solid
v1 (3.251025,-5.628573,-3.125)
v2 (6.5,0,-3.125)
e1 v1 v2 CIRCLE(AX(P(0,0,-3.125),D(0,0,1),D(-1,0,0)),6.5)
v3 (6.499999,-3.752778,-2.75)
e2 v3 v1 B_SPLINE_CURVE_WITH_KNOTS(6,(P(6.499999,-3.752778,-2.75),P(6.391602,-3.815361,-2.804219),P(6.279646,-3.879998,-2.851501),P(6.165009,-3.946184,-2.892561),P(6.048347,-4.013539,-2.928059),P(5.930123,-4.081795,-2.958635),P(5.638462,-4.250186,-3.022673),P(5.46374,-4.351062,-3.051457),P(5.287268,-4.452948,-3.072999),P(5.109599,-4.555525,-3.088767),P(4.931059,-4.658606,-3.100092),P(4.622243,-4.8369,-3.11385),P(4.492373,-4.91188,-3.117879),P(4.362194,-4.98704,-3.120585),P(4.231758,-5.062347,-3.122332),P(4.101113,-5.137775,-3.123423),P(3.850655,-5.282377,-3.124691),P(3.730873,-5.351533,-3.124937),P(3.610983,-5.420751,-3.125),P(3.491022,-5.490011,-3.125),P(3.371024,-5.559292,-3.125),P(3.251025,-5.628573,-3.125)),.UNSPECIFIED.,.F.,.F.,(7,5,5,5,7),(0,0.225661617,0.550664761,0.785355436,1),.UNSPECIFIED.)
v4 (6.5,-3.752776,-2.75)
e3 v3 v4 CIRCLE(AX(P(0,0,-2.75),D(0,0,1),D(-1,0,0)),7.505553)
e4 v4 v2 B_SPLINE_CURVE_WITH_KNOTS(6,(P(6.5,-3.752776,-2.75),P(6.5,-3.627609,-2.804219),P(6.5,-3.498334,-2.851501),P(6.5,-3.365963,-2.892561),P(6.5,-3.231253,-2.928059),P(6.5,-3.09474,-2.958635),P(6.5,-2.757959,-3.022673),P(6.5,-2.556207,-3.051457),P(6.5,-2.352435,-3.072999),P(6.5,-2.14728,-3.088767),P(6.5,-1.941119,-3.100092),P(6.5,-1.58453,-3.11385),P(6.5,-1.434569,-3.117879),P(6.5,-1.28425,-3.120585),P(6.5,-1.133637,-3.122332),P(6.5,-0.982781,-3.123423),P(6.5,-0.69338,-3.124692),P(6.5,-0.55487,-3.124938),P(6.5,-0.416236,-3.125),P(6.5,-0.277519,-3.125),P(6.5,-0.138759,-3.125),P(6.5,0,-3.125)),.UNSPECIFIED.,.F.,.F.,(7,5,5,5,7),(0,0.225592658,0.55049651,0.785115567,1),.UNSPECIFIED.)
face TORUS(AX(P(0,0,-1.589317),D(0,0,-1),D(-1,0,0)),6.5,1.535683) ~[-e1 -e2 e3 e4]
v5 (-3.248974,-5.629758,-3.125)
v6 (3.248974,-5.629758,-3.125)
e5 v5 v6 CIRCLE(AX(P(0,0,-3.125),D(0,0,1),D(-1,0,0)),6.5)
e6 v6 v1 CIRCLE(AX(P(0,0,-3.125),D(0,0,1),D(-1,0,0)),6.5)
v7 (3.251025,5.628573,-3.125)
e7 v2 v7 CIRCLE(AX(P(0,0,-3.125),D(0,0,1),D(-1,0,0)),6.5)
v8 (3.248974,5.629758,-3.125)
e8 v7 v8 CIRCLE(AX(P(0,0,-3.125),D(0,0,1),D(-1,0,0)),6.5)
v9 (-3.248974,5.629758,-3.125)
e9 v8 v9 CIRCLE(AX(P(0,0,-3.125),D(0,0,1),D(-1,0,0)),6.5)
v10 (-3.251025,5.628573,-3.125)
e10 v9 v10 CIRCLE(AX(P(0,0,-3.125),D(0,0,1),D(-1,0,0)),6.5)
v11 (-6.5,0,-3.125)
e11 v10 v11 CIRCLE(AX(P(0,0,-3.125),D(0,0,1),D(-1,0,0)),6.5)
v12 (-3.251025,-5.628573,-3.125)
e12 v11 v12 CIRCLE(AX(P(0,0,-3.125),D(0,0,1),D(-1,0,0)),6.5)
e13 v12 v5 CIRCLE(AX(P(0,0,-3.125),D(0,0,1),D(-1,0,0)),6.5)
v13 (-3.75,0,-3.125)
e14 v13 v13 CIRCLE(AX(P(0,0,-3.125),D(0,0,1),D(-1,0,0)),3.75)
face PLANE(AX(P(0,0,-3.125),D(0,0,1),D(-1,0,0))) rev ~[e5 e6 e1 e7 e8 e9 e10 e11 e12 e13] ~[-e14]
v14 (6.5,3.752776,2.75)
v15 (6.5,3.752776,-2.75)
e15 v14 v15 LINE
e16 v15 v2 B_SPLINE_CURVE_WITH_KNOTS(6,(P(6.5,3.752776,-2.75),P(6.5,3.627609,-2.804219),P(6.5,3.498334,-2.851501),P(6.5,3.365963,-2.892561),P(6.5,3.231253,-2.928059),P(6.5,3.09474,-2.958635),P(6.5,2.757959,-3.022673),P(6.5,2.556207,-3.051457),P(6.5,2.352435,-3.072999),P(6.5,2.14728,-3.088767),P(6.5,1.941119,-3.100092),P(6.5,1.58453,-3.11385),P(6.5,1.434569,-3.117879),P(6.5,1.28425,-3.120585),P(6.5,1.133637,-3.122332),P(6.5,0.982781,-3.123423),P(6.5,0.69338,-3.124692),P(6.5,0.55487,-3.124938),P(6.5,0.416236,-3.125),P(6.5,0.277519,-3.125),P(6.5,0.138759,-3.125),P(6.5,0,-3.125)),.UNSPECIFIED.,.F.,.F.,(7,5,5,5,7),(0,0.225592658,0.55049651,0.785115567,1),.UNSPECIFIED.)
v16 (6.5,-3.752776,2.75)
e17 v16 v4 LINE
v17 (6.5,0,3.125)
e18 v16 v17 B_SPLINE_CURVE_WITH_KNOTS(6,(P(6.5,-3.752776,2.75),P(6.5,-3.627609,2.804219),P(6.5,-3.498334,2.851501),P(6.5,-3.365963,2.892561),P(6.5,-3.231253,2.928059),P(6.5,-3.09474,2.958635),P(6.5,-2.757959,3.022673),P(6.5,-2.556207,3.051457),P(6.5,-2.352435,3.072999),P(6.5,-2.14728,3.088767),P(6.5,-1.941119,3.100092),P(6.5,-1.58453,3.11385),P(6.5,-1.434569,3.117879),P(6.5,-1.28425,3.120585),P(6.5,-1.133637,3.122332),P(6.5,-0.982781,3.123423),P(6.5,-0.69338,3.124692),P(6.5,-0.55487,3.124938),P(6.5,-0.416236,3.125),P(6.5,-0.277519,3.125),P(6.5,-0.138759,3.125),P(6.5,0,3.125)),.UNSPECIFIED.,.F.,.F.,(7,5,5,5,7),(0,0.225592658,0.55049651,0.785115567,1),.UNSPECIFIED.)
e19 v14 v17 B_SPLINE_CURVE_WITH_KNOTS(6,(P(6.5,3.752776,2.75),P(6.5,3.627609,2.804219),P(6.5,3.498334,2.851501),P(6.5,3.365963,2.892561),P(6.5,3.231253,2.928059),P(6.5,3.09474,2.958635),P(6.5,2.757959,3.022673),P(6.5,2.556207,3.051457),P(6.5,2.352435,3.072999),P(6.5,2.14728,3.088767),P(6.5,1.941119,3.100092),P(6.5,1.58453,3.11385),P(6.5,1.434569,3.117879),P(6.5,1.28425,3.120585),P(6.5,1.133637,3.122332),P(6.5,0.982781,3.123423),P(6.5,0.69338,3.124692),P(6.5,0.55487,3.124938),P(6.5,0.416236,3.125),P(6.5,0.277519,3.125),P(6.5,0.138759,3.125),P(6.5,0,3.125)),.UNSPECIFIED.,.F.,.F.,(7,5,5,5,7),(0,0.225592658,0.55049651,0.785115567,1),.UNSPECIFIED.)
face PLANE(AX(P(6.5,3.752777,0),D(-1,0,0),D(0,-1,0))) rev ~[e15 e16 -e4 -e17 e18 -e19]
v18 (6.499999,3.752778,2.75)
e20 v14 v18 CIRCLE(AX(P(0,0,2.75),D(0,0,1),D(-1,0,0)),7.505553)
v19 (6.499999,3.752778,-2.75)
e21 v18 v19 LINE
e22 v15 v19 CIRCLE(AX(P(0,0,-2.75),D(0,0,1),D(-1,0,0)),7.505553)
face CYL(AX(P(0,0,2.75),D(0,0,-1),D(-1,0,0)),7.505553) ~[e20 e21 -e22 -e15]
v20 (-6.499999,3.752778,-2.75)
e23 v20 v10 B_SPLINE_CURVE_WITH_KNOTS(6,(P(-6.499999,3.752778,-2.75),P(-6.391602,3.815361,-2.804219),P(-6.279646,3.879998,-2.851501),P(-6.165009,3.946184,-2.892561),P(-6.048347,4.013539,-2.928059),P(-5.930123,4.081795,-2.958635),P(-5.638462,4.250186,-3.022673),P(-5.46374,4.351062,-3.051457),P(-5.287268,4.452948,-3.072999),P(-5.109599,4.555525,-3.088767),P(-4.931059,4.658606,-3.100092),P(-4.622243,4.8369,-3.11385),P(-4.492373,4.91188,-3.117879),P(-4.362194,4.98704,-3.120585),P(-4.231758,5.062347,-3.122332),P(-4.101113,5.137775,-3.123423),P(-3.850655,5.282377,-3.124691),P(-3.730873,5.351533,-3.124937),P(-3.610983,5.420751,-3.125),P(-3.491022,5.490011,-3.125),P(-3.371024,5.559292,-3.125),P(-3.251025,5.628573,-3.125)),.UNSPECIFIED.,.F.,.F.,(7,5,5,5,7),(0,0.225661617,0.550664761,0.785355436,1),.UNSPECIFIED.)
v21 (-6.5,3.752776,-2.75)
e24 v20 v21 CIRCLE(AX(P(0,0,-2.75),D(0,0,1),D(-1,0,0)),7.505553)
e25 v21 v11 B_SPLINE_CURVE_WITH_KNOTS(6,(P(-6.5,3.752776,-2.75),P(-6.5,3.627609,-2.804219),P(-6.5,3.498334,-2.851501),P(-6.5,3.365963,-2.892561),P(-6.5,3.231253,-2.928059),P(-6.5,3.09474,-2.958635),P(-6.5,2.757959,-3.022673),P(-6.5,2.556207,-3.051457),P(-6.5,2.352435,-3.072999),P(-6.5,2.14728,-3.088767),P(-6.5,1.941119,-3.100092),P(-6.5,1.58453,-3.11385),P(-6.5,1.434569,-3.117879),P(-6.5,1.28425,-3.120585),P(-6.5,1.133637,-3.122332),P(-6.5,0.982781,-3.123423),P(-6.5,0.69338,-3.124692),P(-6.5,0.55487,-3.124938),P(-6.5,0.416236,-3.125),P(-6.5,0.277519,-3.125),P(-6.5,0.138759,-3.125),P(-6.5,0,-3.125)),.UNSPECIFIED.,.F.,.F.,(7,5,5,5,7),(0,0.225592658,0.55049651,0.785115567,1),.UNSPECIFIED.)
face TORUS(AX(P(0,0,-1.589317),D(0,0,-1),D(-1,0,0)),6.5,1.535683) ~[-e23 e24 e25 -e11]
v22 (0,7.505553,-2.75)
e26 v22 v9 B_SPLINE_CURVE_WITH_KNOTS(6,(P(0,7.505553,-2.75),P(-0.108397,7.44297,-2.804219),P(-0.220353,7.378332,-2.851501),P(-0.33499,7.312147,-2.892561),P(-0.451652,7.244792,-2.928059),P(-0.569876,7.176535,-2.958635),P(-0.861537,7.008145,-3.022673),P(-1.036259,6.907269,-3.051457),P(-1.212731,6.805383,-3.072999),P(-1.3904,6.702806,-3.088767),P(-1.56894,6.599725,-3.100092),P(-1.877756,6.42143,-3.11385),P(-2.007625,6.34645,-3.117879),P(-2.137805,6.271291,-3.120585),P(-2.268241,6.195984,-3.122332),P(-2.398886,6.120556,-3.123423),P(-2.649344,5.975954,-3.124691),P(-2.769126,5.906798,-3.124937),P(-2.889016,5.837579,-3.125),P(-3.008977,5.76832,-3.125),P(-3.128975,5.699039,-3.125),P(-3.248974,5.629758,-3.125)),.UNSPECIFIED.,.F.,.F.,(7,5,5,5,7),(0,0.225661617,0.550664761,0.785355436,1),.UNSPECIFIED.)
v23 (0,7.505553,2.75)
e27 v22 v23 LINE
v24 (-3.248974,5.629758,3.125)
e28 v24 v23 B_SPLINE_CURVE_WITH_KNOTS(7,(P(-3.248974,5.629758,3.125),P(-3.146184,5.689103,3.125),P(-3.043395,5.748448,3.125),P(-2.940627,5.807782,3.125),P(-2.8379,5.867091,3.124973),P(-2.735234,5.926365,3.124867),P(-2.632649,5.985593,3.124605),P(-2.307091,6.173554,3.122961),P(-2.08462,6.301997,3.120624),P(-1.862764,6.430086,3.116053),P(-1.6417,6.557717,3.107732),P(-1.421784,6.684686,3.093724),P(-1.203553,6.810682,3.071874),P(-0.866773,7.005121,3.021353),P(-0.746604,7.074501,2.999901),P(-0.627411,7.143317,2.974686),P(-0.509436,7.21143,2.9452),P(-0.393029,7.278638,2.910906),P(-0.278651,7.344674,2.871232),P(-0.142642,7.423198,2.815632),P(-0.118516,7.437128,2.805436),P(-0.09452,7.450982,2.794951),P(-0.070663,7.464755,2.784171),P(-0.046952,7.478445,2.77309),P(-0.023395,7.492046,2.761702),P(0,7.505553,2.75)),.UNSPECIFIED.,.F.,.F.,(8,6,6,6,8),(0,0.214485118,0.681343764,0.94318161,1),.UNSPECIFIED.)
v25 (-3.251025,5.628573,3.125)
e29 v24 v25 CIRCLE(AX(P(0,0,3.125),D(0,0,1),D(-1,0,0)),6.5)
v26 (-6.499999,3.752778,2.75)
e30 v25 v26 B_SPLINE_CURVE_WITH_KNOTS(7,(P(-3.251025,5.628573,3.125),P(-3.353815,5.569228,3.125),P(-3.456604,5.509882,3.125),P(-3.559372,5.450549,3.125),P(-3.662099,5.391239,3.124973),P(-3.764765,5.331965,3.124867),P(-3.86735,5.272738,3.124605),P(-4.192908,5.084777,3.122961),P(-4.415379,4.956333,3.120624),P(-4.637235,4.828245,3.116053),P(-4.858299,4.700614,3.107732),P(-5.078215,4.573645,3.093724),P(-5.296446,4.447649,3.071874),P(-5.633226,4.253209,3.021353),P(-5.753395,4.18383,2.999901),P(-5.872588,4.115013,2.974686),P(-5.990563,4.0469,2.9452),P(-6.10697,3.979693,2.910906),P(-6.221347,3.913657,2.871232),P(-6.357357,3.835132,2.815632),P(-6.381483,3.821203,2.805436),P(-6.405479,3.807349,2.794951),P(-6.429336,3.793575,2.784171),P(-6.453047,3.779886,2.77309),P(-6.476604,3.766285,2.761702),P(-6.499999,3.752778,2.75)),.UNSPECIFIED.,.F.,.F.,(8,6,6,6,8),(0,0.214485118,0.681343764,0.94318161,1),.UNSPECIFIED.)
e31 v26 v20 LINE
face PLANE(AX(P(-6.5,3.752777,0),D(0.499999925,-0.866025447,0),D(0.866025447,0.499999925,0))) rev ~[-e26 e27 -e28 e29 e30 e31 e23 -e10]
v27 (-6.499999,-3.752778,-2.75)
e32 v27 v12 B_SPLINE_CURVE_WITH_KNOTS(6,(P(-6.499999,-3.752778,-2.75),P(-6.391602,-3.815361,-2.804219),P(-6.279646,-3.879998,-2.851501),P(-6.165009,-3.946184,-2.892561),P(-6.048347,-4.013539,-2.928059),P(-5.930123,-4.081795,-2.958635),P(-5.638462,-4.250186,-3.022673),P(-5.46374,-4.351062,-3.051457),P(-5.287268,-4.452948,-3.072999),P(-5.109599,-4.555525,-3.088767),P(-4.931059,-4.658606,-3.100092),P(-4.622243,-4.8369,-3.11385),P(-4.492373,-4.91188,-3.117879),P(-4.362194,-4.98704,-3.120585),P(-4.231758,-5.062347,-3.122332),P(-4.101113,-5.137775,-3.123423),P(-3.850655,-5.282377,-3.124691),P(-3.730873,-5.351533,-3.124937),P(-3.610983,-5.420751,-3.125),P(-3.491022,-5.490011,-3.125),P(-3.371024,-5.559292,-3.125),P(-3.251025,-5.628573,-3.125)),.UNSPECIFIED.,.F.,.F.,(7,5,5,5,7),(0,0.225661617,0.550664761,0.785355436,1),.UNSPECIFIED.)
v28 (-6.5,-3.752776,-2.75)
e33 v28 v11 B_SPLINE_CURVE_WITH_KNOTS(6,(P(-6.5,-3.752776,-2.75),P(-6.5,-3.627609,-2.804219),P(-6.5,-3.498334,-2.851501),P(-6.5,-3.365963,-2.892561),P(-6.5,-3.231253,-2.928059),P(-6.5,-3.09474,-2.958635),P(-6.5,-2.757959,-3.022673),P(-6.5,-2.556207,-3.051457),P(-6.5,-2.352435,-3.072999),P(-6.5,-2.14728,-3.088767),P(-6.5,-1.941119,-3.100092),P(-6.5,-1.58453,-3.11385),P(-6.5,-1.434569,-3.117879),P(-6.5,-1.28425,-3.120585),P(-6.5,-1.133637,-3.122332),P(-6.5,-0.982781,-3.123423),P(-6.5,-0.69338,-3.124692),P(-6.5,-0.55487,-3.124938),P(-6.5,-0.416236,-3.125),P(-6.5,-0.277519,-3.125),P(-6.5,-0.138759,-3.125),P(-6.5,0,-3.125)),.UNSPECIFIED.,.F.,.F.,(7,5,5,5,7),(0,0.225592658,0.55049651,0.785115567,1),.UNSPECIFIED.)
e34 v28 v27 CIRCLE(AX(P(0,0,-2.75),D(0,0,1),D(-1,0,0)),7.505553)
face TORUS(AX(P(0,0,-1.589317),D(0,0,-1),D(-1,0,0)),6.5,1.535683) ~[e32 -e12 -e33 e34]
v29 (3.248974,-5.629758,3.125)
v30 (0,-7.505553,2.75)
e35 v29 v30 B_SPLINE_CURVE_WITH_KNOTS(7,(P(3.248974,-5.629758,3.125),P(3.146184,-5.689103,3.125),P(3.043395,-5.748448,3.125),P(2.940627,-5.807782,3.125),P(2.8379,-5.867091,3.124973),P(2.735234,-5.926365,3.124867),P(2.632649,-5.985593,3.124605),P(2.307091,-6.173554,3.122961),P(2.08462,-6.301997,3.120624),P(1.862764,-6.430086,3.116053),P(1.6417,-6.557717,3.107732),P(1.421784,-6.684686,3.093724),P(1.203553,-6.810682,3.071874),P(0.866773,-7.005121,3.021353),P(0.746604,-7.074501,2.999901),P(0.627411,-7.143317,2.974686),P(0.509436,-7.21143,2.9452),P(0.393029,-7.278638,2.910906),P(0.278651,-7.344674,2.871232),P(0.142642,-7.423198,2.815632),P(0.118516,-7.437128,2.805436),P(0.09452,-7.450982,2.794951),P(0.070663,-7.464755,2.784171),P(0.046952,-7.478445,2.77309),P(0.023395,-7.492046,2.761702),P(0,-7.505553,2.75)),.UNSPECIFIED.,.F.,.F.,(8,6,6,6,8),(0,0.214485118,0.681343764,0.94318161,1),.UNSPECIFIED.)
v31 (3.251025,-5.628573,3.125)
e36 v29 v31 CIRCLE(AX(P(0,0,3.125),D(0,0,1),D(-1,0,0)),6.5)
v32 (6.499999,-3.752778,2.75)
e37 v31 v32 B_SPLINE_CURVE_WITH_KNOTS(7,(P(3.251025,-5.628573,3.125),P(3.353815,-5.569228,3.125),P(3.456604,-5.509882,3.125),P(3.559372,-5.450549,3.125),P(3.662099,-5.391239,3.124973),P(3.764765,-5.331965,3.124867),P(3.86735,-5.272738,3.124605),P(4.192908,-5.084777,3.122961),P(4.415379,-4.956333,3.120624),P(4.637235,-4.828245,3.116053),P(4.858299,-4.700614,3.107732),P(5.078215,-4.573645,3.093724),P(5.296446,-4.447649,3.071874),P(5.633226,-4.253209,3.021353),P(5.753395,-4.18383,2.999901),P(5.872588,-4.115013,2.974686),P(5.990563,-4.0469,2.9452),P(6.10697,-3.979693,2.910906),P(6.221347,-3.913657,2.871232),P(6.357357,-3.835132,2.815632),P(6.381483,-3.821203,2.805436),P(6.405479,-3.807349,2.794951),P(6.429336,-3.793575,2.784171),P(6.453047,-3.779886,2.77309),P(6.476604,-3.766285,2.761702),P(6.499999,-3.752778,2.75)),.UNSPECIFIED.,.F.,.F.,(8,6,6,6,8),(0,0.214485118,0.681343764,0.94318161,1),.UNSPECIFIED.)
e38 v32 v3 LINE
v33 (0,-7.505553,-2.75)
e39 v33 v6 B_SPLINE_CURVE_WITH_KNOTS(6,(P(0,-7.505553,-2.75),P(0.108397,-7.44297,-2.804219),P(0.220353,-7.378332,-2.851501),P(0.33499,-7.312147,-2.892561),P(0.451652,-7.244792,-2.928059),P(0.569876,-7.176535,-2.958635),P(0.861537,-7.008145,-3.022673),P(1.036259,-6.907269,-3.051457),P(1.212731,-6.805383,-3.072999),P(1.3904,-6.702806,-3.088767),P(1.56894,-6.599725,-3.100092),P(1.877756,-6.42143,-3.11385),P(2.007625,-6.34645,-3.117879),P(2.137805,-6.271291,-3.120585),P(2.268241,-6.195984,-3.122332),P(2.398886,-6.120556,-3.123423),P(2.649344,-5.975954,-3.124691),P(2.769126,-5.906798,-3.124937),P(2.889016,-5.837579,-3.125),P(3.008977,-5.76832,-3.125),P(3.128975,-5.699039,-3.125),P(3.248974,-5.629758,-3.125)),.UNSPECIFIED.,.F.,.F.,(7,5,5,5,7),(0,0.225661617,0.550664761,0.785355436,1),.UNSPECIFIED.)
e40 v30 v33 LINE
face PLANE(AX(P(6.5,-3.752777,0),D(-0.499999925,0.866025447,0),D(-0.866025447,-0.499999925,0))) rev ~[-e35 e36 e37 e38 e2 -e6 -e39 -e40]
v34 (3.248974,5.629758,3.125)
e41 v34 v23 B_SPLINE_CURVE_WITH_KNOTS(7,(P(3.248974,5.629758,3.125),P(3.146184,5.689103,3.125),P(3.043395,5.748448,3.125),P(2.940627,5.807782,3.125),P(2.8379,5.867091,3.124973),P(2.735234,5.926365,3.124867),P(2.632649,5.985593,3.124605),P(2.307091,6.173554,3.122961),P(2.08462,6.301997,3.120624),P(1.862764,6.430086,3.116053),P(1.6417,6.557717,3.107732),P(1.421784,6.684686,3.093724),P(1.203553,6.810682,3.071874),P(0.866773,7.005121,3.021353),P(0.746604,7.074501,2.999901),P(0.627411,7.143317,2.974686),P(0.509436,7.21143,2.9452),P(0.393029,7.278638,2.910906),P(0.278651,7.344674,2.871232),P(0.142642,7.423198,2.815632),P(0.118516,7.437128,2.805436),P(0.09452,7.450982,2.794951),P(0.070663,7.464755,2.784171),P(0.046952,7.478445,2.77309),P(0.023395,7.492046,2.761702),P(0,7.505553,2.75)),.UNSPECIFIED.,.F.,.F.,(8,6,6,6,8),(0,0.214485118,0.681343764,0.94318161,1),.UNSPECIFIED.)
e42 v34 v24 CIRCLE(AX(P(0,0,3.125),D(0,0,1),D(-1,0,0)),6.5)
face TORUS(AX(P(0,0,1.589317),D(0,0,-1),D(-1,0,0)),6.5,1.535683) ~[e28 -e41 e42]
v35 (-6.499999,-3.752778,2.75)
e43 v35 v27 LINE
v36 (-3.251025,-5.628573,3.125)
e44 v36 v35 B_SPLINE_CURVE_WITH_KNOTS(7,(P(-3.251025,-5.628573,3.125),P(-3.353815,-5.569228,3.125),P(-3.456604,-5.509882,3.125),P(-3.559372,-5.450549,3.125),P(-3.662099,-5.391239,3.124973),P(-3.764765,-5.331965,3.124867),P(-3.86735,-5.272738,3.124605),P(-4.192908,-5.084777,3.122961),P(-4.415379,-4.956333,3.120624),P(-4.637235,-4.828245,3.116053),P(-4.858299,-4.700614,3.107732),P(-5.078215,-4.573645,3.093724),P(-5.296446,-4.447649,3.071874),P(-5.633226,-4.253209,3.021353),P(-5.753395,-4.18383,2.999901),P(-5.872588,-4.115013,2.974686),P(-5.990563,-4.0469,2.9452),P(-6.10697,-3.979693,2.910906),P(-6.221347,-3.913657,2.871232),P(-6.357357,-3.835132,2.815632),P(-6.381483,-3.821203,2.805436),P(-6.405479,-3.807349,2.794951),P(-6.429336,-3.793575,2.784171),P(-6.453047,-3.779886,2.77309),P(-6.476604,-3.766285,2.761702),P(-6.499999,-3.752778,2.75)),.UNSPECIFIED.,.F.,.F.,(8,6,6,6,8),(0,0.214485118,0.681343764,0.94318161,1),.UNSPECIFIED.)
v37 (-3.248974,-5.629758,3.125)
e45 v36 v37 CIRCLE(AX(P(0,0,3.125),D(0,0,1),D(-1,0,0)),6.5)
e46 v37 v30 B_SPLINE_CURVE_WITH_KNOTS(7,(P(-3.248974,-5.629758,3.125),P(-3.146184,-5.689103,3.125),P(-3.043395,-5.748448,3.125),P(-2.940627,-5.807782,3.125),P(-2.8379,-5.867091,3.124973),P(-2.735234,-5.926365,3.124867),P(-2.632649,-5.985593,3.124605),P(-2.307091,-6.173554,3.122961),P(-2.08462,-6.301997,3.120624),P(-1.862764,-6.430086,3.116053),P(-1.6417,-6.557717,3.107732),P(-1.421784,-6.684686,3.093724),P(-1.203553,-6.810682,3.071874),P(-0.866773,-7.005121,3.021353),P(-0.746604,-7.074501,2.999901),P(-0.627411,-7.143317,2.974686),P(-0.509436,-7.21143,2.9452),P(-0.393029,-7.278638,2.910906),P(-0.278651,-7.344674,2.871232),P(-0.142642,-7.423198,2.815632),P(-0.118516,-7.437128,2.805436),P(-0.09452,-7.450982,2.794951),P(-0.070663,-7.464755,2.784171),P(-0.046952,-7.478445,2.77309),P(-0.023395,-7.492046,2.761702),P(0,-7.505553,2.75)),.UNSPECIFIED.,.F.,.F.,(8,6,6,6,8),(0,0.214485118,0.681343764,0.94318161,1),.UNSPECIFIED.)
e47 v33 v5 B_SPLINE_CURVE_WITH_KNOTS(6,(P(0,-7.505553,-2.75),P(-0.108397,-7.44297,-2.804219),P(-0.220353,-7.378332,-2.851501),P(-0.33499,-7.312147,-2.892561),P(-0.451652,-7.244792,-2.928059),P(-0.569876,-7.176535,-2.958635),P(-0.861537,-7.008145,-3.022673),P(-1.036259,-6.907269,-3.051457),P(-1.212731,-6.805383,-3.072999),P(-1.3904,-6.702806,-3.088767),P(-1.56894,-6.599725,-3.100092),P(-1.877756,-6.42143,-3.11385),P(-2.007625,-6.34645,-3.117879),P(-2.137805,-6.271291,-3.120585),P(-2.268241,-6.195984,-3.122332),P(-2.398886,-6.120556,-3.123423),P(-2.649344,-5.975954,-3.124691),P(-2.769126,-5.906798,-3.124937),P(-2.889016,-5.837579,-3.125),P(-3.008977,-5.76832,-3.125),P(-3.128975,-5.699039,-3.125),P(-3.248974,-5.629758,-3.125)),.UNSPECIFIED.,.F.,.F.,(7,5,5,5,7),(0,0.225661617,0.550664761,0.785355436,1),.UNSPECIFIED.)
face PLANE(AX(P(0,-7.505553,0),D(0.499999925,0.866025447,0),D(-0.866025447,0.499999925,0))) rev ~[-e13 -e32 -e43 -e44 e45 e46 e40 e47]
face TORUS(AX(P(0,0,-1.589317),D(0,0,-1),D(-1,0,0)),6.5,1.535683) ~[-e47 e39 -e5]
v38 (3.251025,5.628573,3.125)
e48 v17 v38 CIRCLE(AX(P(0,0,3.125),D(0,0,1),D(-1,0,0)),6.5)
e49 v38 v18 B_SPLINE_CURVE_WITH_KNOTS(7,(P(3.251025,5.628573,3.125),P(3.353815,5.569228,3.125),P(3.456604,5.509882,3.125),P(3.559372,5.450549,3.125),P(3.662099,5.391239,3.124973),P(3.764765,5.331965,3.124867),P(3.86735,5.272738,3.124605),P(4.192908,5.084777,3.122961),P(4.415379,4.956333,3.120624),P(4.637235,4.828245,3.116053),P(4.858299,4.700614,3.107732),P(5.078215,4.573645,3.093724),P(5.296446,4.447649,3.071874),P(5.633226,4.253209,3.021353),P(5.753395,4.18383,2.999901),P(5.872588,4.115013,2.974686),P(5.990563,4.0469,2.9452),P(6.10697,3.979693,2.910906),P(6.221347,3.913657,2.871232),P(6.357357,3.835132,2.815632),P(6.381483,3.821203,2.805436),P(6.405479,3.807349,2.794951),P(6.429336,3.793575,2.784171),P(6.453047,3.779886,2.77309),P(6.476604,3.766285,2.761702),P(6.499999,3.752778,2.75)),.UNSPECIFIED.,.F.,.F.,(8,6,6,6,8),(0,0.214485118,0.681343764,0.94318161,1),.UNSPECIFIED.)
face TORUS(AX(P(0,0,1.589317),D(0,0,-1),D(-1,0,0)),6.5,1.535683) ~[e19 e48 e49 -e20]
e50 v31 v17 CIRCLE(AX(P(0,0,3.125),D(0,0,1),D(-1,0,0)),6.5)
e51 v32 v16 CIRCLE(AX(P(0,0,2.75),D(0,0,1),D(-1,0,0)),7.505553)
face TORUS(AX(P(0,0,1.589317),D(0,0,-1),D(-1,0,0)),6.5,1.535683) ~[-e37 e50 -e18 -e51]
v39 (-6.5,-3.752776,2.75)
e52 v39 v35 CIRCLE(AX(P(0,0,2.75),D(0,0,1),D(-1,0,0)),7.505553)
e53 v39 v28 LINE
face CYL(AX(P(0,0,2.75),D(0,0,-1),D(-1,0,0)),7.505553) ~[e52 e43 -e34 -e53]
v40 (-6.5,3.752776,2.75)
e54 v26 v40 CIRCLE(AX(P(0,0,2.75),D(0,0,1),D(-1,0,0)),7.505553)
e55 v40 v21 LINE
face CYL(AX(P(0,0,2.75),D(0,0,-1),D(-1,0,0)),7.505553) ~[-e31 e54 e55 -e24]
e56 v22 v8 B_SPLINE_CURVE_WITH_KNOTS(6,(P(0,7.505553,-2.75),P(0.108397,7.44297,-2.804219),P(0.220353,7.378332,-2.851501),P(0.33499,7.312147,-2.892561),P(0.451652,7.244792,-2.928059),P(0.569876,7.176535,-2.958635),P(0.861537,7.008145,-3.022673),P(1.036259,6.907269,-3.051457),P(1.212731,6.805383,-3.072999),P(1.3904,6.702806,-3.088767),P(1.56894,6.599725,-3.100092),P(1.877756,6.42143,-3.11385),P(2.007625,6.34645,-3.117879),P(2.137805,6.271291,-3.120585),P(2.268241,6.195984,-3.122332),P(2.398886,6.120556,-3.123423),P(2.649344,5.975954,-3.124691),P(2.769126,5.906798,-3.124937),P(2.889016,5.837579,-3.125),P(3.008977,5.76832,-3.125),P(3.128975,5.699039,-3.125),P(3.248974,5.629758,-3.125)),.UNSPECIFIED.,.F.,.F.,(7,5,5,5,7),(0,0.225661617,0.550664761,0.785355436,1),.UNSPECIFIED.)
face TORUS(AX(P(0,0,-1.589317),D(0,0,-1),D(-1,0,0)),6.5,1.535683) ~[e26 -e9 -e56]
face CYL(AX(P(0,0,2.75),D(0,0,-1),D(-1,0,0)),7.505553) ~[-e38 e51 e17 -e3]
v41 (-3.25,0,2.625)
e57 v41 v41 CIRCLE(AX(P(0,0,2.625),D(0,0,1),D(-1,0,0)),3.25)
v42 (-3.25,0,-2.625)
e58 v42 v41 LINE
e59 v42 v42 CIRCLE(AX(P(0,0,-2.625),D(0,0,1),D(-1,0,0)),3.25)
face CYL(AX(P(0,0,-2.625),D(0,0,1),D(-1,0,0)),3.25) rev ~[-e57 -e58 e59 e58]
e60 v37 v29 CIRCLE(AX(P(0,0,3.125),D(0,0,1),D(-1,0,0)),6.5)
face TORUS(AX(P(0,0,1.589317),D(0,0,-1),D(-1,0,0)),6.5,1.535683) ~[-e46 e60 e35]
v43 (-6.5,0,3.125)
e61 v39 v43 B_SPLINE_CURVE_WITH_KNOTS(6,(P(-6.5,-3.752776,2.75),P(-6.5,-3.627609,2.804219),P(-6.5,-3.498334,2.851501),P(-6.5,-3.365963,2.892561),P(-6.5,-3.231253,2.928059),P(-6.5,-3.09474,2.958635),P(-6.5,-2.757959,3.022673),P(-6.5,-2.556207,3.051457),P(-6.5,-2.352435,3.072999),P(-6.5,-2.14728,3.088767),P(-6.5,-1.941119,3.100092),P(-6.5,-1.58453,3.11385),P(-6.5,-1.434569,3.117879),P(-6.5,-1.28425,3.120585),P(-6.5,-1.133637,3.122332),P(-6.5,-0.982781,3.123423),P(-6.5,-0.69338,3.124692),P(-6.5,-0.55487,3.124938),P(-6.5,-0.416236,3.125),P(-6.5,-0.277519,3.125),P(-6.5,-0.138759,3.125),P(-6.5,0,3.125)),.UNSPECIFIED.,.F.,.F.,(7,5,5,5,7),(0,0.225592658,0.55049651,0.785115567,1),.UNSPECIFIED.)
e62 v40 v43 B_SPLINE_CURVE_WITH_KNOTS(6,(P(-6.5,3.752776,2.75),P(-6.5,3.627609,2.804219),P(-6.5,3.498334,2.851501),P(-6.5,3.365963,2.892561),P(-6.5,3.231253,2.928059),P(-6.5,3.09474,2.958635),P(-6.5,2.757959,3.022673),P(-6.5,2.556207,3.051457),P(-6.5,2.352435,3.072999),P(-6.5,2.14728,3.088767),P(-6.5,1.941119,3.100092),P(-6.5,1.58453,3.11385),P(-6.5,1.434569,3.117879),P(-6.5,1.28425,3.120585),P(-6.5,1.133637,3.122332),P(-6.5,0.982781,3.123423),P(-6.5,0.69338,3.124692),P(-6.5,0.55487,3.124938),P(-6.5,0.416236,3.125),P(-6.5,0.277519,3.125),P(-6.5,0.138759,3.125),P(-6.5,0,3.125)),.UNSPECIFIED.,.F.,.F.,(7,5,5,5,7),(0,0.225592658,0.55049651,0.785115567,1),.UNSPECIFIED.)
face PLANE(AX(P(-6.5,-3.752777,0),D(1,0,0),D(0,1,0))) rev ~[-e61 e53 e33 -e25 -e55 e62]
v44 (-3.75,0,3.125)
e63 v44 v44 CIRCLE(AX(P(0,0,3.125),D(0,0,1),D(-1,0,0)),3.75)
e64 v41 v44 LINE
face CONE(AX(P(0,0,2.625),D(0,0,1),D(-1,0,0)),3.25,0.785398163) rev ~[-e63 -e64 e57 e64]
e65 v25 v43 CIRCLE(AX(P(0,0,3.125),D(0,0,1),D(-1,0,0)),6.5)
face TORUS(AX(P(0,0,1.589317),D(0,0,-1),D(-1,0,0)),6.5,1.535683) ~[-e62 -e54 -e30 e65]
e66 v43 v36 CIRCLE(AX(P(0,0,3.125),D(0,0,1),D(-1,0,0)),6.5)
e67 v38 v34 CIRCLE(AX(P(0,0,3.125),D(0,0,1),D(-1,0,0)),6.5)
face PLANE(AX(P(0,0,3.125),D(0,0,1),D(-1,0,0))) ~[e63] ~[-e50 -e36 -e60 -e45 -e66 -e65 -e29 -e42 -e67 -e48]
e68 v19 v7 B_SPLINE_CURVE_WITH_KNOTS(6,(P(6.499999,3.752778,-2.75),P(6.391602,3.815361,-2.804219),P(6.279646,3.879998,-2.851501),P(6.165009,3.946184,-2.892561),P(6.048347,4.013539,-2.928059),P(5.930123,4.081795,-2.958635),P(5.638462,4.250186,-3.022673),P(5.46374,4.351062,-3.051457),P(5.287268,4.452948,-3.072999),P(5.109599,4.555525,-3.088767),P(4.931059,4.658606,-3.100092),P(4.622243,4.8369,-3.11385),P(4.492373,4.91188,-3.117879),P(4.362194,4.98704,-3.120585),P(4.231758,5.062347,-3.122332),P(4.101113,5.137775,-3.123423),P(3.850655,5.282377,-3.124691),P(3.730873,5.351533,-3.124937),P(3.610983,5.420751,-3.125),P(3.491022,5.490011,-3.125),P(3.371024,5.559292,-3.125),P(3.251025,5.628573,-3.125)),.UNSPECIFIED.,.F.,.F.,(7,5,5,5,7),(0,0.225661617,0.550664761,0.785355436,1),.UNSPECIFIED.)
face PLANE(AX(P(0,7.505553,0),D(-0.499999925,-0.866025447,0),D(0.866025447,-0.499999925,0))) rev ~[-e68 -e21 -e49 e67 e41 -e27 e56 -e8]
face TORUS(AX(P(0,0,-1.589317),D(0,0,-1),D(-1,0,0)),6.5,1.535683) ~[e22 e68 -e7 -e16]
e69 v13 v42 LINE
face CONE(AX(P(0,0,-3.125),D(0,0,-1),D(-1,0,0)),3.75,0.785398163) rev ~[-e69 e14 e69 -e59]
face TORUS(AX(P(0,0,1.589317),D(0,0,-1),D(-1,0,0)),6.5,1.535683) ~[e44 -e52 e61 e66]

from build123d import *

# Parameters (mm, degrees)
F2_R     = 8.530956
F3_DEPTH = 12.5


with BuildPart() as f1:
    # F0 (on Front) → F1 (revolve)
    with BuildSketch(Plane.XZ):
        with BuildLine():
            Line((-3.25, -2.625), (-3.25, 0))
            Line((-3.25, 0), (-3.25, 2.625))
            Line((-3.25, 2.625), (-3.75, 3.125))
            Line((-3.75, 3.125), (-6.5, 3.125))
            ThreePointArc((-6.5, 3.125), (-7.036601, 3.028199), (-7.505553, 2.75))
            Line((-7.505553, 2.75), (-7.505553, 0))
            Line((-7.505553, 0), (-7.505553, -2.75))
            ThreePointArc((-7.505553, -2.75), (-7.036601, -3.028199), (-6.5, -3.125))
            Line((-6.5, -3.125), (-3.75, -3.125))
            Line((-3.75, -3.125), (-3.25, -2.625))
        make_face()
    revolve(axis=Axis((0, 0, 4.430122), (0, 0, 1)))

    # F2 (on Top) → F3 (cut, symmetric)
    with BuildSketch(Plane.XY):
        Circle(F2_R)
        Polygon((0, 7.505553), (6.5, 3.752777), (6.5, -3.752777), (0, -7.505553), (-6.5, -3.752777), (-6.5, 3.752777), align=None, mode=Mode.SUBTRACT)
    extrude(amount=F3_DEPTH, both=True, mode=Mode.SUBTRACT)


solid = f1.part
